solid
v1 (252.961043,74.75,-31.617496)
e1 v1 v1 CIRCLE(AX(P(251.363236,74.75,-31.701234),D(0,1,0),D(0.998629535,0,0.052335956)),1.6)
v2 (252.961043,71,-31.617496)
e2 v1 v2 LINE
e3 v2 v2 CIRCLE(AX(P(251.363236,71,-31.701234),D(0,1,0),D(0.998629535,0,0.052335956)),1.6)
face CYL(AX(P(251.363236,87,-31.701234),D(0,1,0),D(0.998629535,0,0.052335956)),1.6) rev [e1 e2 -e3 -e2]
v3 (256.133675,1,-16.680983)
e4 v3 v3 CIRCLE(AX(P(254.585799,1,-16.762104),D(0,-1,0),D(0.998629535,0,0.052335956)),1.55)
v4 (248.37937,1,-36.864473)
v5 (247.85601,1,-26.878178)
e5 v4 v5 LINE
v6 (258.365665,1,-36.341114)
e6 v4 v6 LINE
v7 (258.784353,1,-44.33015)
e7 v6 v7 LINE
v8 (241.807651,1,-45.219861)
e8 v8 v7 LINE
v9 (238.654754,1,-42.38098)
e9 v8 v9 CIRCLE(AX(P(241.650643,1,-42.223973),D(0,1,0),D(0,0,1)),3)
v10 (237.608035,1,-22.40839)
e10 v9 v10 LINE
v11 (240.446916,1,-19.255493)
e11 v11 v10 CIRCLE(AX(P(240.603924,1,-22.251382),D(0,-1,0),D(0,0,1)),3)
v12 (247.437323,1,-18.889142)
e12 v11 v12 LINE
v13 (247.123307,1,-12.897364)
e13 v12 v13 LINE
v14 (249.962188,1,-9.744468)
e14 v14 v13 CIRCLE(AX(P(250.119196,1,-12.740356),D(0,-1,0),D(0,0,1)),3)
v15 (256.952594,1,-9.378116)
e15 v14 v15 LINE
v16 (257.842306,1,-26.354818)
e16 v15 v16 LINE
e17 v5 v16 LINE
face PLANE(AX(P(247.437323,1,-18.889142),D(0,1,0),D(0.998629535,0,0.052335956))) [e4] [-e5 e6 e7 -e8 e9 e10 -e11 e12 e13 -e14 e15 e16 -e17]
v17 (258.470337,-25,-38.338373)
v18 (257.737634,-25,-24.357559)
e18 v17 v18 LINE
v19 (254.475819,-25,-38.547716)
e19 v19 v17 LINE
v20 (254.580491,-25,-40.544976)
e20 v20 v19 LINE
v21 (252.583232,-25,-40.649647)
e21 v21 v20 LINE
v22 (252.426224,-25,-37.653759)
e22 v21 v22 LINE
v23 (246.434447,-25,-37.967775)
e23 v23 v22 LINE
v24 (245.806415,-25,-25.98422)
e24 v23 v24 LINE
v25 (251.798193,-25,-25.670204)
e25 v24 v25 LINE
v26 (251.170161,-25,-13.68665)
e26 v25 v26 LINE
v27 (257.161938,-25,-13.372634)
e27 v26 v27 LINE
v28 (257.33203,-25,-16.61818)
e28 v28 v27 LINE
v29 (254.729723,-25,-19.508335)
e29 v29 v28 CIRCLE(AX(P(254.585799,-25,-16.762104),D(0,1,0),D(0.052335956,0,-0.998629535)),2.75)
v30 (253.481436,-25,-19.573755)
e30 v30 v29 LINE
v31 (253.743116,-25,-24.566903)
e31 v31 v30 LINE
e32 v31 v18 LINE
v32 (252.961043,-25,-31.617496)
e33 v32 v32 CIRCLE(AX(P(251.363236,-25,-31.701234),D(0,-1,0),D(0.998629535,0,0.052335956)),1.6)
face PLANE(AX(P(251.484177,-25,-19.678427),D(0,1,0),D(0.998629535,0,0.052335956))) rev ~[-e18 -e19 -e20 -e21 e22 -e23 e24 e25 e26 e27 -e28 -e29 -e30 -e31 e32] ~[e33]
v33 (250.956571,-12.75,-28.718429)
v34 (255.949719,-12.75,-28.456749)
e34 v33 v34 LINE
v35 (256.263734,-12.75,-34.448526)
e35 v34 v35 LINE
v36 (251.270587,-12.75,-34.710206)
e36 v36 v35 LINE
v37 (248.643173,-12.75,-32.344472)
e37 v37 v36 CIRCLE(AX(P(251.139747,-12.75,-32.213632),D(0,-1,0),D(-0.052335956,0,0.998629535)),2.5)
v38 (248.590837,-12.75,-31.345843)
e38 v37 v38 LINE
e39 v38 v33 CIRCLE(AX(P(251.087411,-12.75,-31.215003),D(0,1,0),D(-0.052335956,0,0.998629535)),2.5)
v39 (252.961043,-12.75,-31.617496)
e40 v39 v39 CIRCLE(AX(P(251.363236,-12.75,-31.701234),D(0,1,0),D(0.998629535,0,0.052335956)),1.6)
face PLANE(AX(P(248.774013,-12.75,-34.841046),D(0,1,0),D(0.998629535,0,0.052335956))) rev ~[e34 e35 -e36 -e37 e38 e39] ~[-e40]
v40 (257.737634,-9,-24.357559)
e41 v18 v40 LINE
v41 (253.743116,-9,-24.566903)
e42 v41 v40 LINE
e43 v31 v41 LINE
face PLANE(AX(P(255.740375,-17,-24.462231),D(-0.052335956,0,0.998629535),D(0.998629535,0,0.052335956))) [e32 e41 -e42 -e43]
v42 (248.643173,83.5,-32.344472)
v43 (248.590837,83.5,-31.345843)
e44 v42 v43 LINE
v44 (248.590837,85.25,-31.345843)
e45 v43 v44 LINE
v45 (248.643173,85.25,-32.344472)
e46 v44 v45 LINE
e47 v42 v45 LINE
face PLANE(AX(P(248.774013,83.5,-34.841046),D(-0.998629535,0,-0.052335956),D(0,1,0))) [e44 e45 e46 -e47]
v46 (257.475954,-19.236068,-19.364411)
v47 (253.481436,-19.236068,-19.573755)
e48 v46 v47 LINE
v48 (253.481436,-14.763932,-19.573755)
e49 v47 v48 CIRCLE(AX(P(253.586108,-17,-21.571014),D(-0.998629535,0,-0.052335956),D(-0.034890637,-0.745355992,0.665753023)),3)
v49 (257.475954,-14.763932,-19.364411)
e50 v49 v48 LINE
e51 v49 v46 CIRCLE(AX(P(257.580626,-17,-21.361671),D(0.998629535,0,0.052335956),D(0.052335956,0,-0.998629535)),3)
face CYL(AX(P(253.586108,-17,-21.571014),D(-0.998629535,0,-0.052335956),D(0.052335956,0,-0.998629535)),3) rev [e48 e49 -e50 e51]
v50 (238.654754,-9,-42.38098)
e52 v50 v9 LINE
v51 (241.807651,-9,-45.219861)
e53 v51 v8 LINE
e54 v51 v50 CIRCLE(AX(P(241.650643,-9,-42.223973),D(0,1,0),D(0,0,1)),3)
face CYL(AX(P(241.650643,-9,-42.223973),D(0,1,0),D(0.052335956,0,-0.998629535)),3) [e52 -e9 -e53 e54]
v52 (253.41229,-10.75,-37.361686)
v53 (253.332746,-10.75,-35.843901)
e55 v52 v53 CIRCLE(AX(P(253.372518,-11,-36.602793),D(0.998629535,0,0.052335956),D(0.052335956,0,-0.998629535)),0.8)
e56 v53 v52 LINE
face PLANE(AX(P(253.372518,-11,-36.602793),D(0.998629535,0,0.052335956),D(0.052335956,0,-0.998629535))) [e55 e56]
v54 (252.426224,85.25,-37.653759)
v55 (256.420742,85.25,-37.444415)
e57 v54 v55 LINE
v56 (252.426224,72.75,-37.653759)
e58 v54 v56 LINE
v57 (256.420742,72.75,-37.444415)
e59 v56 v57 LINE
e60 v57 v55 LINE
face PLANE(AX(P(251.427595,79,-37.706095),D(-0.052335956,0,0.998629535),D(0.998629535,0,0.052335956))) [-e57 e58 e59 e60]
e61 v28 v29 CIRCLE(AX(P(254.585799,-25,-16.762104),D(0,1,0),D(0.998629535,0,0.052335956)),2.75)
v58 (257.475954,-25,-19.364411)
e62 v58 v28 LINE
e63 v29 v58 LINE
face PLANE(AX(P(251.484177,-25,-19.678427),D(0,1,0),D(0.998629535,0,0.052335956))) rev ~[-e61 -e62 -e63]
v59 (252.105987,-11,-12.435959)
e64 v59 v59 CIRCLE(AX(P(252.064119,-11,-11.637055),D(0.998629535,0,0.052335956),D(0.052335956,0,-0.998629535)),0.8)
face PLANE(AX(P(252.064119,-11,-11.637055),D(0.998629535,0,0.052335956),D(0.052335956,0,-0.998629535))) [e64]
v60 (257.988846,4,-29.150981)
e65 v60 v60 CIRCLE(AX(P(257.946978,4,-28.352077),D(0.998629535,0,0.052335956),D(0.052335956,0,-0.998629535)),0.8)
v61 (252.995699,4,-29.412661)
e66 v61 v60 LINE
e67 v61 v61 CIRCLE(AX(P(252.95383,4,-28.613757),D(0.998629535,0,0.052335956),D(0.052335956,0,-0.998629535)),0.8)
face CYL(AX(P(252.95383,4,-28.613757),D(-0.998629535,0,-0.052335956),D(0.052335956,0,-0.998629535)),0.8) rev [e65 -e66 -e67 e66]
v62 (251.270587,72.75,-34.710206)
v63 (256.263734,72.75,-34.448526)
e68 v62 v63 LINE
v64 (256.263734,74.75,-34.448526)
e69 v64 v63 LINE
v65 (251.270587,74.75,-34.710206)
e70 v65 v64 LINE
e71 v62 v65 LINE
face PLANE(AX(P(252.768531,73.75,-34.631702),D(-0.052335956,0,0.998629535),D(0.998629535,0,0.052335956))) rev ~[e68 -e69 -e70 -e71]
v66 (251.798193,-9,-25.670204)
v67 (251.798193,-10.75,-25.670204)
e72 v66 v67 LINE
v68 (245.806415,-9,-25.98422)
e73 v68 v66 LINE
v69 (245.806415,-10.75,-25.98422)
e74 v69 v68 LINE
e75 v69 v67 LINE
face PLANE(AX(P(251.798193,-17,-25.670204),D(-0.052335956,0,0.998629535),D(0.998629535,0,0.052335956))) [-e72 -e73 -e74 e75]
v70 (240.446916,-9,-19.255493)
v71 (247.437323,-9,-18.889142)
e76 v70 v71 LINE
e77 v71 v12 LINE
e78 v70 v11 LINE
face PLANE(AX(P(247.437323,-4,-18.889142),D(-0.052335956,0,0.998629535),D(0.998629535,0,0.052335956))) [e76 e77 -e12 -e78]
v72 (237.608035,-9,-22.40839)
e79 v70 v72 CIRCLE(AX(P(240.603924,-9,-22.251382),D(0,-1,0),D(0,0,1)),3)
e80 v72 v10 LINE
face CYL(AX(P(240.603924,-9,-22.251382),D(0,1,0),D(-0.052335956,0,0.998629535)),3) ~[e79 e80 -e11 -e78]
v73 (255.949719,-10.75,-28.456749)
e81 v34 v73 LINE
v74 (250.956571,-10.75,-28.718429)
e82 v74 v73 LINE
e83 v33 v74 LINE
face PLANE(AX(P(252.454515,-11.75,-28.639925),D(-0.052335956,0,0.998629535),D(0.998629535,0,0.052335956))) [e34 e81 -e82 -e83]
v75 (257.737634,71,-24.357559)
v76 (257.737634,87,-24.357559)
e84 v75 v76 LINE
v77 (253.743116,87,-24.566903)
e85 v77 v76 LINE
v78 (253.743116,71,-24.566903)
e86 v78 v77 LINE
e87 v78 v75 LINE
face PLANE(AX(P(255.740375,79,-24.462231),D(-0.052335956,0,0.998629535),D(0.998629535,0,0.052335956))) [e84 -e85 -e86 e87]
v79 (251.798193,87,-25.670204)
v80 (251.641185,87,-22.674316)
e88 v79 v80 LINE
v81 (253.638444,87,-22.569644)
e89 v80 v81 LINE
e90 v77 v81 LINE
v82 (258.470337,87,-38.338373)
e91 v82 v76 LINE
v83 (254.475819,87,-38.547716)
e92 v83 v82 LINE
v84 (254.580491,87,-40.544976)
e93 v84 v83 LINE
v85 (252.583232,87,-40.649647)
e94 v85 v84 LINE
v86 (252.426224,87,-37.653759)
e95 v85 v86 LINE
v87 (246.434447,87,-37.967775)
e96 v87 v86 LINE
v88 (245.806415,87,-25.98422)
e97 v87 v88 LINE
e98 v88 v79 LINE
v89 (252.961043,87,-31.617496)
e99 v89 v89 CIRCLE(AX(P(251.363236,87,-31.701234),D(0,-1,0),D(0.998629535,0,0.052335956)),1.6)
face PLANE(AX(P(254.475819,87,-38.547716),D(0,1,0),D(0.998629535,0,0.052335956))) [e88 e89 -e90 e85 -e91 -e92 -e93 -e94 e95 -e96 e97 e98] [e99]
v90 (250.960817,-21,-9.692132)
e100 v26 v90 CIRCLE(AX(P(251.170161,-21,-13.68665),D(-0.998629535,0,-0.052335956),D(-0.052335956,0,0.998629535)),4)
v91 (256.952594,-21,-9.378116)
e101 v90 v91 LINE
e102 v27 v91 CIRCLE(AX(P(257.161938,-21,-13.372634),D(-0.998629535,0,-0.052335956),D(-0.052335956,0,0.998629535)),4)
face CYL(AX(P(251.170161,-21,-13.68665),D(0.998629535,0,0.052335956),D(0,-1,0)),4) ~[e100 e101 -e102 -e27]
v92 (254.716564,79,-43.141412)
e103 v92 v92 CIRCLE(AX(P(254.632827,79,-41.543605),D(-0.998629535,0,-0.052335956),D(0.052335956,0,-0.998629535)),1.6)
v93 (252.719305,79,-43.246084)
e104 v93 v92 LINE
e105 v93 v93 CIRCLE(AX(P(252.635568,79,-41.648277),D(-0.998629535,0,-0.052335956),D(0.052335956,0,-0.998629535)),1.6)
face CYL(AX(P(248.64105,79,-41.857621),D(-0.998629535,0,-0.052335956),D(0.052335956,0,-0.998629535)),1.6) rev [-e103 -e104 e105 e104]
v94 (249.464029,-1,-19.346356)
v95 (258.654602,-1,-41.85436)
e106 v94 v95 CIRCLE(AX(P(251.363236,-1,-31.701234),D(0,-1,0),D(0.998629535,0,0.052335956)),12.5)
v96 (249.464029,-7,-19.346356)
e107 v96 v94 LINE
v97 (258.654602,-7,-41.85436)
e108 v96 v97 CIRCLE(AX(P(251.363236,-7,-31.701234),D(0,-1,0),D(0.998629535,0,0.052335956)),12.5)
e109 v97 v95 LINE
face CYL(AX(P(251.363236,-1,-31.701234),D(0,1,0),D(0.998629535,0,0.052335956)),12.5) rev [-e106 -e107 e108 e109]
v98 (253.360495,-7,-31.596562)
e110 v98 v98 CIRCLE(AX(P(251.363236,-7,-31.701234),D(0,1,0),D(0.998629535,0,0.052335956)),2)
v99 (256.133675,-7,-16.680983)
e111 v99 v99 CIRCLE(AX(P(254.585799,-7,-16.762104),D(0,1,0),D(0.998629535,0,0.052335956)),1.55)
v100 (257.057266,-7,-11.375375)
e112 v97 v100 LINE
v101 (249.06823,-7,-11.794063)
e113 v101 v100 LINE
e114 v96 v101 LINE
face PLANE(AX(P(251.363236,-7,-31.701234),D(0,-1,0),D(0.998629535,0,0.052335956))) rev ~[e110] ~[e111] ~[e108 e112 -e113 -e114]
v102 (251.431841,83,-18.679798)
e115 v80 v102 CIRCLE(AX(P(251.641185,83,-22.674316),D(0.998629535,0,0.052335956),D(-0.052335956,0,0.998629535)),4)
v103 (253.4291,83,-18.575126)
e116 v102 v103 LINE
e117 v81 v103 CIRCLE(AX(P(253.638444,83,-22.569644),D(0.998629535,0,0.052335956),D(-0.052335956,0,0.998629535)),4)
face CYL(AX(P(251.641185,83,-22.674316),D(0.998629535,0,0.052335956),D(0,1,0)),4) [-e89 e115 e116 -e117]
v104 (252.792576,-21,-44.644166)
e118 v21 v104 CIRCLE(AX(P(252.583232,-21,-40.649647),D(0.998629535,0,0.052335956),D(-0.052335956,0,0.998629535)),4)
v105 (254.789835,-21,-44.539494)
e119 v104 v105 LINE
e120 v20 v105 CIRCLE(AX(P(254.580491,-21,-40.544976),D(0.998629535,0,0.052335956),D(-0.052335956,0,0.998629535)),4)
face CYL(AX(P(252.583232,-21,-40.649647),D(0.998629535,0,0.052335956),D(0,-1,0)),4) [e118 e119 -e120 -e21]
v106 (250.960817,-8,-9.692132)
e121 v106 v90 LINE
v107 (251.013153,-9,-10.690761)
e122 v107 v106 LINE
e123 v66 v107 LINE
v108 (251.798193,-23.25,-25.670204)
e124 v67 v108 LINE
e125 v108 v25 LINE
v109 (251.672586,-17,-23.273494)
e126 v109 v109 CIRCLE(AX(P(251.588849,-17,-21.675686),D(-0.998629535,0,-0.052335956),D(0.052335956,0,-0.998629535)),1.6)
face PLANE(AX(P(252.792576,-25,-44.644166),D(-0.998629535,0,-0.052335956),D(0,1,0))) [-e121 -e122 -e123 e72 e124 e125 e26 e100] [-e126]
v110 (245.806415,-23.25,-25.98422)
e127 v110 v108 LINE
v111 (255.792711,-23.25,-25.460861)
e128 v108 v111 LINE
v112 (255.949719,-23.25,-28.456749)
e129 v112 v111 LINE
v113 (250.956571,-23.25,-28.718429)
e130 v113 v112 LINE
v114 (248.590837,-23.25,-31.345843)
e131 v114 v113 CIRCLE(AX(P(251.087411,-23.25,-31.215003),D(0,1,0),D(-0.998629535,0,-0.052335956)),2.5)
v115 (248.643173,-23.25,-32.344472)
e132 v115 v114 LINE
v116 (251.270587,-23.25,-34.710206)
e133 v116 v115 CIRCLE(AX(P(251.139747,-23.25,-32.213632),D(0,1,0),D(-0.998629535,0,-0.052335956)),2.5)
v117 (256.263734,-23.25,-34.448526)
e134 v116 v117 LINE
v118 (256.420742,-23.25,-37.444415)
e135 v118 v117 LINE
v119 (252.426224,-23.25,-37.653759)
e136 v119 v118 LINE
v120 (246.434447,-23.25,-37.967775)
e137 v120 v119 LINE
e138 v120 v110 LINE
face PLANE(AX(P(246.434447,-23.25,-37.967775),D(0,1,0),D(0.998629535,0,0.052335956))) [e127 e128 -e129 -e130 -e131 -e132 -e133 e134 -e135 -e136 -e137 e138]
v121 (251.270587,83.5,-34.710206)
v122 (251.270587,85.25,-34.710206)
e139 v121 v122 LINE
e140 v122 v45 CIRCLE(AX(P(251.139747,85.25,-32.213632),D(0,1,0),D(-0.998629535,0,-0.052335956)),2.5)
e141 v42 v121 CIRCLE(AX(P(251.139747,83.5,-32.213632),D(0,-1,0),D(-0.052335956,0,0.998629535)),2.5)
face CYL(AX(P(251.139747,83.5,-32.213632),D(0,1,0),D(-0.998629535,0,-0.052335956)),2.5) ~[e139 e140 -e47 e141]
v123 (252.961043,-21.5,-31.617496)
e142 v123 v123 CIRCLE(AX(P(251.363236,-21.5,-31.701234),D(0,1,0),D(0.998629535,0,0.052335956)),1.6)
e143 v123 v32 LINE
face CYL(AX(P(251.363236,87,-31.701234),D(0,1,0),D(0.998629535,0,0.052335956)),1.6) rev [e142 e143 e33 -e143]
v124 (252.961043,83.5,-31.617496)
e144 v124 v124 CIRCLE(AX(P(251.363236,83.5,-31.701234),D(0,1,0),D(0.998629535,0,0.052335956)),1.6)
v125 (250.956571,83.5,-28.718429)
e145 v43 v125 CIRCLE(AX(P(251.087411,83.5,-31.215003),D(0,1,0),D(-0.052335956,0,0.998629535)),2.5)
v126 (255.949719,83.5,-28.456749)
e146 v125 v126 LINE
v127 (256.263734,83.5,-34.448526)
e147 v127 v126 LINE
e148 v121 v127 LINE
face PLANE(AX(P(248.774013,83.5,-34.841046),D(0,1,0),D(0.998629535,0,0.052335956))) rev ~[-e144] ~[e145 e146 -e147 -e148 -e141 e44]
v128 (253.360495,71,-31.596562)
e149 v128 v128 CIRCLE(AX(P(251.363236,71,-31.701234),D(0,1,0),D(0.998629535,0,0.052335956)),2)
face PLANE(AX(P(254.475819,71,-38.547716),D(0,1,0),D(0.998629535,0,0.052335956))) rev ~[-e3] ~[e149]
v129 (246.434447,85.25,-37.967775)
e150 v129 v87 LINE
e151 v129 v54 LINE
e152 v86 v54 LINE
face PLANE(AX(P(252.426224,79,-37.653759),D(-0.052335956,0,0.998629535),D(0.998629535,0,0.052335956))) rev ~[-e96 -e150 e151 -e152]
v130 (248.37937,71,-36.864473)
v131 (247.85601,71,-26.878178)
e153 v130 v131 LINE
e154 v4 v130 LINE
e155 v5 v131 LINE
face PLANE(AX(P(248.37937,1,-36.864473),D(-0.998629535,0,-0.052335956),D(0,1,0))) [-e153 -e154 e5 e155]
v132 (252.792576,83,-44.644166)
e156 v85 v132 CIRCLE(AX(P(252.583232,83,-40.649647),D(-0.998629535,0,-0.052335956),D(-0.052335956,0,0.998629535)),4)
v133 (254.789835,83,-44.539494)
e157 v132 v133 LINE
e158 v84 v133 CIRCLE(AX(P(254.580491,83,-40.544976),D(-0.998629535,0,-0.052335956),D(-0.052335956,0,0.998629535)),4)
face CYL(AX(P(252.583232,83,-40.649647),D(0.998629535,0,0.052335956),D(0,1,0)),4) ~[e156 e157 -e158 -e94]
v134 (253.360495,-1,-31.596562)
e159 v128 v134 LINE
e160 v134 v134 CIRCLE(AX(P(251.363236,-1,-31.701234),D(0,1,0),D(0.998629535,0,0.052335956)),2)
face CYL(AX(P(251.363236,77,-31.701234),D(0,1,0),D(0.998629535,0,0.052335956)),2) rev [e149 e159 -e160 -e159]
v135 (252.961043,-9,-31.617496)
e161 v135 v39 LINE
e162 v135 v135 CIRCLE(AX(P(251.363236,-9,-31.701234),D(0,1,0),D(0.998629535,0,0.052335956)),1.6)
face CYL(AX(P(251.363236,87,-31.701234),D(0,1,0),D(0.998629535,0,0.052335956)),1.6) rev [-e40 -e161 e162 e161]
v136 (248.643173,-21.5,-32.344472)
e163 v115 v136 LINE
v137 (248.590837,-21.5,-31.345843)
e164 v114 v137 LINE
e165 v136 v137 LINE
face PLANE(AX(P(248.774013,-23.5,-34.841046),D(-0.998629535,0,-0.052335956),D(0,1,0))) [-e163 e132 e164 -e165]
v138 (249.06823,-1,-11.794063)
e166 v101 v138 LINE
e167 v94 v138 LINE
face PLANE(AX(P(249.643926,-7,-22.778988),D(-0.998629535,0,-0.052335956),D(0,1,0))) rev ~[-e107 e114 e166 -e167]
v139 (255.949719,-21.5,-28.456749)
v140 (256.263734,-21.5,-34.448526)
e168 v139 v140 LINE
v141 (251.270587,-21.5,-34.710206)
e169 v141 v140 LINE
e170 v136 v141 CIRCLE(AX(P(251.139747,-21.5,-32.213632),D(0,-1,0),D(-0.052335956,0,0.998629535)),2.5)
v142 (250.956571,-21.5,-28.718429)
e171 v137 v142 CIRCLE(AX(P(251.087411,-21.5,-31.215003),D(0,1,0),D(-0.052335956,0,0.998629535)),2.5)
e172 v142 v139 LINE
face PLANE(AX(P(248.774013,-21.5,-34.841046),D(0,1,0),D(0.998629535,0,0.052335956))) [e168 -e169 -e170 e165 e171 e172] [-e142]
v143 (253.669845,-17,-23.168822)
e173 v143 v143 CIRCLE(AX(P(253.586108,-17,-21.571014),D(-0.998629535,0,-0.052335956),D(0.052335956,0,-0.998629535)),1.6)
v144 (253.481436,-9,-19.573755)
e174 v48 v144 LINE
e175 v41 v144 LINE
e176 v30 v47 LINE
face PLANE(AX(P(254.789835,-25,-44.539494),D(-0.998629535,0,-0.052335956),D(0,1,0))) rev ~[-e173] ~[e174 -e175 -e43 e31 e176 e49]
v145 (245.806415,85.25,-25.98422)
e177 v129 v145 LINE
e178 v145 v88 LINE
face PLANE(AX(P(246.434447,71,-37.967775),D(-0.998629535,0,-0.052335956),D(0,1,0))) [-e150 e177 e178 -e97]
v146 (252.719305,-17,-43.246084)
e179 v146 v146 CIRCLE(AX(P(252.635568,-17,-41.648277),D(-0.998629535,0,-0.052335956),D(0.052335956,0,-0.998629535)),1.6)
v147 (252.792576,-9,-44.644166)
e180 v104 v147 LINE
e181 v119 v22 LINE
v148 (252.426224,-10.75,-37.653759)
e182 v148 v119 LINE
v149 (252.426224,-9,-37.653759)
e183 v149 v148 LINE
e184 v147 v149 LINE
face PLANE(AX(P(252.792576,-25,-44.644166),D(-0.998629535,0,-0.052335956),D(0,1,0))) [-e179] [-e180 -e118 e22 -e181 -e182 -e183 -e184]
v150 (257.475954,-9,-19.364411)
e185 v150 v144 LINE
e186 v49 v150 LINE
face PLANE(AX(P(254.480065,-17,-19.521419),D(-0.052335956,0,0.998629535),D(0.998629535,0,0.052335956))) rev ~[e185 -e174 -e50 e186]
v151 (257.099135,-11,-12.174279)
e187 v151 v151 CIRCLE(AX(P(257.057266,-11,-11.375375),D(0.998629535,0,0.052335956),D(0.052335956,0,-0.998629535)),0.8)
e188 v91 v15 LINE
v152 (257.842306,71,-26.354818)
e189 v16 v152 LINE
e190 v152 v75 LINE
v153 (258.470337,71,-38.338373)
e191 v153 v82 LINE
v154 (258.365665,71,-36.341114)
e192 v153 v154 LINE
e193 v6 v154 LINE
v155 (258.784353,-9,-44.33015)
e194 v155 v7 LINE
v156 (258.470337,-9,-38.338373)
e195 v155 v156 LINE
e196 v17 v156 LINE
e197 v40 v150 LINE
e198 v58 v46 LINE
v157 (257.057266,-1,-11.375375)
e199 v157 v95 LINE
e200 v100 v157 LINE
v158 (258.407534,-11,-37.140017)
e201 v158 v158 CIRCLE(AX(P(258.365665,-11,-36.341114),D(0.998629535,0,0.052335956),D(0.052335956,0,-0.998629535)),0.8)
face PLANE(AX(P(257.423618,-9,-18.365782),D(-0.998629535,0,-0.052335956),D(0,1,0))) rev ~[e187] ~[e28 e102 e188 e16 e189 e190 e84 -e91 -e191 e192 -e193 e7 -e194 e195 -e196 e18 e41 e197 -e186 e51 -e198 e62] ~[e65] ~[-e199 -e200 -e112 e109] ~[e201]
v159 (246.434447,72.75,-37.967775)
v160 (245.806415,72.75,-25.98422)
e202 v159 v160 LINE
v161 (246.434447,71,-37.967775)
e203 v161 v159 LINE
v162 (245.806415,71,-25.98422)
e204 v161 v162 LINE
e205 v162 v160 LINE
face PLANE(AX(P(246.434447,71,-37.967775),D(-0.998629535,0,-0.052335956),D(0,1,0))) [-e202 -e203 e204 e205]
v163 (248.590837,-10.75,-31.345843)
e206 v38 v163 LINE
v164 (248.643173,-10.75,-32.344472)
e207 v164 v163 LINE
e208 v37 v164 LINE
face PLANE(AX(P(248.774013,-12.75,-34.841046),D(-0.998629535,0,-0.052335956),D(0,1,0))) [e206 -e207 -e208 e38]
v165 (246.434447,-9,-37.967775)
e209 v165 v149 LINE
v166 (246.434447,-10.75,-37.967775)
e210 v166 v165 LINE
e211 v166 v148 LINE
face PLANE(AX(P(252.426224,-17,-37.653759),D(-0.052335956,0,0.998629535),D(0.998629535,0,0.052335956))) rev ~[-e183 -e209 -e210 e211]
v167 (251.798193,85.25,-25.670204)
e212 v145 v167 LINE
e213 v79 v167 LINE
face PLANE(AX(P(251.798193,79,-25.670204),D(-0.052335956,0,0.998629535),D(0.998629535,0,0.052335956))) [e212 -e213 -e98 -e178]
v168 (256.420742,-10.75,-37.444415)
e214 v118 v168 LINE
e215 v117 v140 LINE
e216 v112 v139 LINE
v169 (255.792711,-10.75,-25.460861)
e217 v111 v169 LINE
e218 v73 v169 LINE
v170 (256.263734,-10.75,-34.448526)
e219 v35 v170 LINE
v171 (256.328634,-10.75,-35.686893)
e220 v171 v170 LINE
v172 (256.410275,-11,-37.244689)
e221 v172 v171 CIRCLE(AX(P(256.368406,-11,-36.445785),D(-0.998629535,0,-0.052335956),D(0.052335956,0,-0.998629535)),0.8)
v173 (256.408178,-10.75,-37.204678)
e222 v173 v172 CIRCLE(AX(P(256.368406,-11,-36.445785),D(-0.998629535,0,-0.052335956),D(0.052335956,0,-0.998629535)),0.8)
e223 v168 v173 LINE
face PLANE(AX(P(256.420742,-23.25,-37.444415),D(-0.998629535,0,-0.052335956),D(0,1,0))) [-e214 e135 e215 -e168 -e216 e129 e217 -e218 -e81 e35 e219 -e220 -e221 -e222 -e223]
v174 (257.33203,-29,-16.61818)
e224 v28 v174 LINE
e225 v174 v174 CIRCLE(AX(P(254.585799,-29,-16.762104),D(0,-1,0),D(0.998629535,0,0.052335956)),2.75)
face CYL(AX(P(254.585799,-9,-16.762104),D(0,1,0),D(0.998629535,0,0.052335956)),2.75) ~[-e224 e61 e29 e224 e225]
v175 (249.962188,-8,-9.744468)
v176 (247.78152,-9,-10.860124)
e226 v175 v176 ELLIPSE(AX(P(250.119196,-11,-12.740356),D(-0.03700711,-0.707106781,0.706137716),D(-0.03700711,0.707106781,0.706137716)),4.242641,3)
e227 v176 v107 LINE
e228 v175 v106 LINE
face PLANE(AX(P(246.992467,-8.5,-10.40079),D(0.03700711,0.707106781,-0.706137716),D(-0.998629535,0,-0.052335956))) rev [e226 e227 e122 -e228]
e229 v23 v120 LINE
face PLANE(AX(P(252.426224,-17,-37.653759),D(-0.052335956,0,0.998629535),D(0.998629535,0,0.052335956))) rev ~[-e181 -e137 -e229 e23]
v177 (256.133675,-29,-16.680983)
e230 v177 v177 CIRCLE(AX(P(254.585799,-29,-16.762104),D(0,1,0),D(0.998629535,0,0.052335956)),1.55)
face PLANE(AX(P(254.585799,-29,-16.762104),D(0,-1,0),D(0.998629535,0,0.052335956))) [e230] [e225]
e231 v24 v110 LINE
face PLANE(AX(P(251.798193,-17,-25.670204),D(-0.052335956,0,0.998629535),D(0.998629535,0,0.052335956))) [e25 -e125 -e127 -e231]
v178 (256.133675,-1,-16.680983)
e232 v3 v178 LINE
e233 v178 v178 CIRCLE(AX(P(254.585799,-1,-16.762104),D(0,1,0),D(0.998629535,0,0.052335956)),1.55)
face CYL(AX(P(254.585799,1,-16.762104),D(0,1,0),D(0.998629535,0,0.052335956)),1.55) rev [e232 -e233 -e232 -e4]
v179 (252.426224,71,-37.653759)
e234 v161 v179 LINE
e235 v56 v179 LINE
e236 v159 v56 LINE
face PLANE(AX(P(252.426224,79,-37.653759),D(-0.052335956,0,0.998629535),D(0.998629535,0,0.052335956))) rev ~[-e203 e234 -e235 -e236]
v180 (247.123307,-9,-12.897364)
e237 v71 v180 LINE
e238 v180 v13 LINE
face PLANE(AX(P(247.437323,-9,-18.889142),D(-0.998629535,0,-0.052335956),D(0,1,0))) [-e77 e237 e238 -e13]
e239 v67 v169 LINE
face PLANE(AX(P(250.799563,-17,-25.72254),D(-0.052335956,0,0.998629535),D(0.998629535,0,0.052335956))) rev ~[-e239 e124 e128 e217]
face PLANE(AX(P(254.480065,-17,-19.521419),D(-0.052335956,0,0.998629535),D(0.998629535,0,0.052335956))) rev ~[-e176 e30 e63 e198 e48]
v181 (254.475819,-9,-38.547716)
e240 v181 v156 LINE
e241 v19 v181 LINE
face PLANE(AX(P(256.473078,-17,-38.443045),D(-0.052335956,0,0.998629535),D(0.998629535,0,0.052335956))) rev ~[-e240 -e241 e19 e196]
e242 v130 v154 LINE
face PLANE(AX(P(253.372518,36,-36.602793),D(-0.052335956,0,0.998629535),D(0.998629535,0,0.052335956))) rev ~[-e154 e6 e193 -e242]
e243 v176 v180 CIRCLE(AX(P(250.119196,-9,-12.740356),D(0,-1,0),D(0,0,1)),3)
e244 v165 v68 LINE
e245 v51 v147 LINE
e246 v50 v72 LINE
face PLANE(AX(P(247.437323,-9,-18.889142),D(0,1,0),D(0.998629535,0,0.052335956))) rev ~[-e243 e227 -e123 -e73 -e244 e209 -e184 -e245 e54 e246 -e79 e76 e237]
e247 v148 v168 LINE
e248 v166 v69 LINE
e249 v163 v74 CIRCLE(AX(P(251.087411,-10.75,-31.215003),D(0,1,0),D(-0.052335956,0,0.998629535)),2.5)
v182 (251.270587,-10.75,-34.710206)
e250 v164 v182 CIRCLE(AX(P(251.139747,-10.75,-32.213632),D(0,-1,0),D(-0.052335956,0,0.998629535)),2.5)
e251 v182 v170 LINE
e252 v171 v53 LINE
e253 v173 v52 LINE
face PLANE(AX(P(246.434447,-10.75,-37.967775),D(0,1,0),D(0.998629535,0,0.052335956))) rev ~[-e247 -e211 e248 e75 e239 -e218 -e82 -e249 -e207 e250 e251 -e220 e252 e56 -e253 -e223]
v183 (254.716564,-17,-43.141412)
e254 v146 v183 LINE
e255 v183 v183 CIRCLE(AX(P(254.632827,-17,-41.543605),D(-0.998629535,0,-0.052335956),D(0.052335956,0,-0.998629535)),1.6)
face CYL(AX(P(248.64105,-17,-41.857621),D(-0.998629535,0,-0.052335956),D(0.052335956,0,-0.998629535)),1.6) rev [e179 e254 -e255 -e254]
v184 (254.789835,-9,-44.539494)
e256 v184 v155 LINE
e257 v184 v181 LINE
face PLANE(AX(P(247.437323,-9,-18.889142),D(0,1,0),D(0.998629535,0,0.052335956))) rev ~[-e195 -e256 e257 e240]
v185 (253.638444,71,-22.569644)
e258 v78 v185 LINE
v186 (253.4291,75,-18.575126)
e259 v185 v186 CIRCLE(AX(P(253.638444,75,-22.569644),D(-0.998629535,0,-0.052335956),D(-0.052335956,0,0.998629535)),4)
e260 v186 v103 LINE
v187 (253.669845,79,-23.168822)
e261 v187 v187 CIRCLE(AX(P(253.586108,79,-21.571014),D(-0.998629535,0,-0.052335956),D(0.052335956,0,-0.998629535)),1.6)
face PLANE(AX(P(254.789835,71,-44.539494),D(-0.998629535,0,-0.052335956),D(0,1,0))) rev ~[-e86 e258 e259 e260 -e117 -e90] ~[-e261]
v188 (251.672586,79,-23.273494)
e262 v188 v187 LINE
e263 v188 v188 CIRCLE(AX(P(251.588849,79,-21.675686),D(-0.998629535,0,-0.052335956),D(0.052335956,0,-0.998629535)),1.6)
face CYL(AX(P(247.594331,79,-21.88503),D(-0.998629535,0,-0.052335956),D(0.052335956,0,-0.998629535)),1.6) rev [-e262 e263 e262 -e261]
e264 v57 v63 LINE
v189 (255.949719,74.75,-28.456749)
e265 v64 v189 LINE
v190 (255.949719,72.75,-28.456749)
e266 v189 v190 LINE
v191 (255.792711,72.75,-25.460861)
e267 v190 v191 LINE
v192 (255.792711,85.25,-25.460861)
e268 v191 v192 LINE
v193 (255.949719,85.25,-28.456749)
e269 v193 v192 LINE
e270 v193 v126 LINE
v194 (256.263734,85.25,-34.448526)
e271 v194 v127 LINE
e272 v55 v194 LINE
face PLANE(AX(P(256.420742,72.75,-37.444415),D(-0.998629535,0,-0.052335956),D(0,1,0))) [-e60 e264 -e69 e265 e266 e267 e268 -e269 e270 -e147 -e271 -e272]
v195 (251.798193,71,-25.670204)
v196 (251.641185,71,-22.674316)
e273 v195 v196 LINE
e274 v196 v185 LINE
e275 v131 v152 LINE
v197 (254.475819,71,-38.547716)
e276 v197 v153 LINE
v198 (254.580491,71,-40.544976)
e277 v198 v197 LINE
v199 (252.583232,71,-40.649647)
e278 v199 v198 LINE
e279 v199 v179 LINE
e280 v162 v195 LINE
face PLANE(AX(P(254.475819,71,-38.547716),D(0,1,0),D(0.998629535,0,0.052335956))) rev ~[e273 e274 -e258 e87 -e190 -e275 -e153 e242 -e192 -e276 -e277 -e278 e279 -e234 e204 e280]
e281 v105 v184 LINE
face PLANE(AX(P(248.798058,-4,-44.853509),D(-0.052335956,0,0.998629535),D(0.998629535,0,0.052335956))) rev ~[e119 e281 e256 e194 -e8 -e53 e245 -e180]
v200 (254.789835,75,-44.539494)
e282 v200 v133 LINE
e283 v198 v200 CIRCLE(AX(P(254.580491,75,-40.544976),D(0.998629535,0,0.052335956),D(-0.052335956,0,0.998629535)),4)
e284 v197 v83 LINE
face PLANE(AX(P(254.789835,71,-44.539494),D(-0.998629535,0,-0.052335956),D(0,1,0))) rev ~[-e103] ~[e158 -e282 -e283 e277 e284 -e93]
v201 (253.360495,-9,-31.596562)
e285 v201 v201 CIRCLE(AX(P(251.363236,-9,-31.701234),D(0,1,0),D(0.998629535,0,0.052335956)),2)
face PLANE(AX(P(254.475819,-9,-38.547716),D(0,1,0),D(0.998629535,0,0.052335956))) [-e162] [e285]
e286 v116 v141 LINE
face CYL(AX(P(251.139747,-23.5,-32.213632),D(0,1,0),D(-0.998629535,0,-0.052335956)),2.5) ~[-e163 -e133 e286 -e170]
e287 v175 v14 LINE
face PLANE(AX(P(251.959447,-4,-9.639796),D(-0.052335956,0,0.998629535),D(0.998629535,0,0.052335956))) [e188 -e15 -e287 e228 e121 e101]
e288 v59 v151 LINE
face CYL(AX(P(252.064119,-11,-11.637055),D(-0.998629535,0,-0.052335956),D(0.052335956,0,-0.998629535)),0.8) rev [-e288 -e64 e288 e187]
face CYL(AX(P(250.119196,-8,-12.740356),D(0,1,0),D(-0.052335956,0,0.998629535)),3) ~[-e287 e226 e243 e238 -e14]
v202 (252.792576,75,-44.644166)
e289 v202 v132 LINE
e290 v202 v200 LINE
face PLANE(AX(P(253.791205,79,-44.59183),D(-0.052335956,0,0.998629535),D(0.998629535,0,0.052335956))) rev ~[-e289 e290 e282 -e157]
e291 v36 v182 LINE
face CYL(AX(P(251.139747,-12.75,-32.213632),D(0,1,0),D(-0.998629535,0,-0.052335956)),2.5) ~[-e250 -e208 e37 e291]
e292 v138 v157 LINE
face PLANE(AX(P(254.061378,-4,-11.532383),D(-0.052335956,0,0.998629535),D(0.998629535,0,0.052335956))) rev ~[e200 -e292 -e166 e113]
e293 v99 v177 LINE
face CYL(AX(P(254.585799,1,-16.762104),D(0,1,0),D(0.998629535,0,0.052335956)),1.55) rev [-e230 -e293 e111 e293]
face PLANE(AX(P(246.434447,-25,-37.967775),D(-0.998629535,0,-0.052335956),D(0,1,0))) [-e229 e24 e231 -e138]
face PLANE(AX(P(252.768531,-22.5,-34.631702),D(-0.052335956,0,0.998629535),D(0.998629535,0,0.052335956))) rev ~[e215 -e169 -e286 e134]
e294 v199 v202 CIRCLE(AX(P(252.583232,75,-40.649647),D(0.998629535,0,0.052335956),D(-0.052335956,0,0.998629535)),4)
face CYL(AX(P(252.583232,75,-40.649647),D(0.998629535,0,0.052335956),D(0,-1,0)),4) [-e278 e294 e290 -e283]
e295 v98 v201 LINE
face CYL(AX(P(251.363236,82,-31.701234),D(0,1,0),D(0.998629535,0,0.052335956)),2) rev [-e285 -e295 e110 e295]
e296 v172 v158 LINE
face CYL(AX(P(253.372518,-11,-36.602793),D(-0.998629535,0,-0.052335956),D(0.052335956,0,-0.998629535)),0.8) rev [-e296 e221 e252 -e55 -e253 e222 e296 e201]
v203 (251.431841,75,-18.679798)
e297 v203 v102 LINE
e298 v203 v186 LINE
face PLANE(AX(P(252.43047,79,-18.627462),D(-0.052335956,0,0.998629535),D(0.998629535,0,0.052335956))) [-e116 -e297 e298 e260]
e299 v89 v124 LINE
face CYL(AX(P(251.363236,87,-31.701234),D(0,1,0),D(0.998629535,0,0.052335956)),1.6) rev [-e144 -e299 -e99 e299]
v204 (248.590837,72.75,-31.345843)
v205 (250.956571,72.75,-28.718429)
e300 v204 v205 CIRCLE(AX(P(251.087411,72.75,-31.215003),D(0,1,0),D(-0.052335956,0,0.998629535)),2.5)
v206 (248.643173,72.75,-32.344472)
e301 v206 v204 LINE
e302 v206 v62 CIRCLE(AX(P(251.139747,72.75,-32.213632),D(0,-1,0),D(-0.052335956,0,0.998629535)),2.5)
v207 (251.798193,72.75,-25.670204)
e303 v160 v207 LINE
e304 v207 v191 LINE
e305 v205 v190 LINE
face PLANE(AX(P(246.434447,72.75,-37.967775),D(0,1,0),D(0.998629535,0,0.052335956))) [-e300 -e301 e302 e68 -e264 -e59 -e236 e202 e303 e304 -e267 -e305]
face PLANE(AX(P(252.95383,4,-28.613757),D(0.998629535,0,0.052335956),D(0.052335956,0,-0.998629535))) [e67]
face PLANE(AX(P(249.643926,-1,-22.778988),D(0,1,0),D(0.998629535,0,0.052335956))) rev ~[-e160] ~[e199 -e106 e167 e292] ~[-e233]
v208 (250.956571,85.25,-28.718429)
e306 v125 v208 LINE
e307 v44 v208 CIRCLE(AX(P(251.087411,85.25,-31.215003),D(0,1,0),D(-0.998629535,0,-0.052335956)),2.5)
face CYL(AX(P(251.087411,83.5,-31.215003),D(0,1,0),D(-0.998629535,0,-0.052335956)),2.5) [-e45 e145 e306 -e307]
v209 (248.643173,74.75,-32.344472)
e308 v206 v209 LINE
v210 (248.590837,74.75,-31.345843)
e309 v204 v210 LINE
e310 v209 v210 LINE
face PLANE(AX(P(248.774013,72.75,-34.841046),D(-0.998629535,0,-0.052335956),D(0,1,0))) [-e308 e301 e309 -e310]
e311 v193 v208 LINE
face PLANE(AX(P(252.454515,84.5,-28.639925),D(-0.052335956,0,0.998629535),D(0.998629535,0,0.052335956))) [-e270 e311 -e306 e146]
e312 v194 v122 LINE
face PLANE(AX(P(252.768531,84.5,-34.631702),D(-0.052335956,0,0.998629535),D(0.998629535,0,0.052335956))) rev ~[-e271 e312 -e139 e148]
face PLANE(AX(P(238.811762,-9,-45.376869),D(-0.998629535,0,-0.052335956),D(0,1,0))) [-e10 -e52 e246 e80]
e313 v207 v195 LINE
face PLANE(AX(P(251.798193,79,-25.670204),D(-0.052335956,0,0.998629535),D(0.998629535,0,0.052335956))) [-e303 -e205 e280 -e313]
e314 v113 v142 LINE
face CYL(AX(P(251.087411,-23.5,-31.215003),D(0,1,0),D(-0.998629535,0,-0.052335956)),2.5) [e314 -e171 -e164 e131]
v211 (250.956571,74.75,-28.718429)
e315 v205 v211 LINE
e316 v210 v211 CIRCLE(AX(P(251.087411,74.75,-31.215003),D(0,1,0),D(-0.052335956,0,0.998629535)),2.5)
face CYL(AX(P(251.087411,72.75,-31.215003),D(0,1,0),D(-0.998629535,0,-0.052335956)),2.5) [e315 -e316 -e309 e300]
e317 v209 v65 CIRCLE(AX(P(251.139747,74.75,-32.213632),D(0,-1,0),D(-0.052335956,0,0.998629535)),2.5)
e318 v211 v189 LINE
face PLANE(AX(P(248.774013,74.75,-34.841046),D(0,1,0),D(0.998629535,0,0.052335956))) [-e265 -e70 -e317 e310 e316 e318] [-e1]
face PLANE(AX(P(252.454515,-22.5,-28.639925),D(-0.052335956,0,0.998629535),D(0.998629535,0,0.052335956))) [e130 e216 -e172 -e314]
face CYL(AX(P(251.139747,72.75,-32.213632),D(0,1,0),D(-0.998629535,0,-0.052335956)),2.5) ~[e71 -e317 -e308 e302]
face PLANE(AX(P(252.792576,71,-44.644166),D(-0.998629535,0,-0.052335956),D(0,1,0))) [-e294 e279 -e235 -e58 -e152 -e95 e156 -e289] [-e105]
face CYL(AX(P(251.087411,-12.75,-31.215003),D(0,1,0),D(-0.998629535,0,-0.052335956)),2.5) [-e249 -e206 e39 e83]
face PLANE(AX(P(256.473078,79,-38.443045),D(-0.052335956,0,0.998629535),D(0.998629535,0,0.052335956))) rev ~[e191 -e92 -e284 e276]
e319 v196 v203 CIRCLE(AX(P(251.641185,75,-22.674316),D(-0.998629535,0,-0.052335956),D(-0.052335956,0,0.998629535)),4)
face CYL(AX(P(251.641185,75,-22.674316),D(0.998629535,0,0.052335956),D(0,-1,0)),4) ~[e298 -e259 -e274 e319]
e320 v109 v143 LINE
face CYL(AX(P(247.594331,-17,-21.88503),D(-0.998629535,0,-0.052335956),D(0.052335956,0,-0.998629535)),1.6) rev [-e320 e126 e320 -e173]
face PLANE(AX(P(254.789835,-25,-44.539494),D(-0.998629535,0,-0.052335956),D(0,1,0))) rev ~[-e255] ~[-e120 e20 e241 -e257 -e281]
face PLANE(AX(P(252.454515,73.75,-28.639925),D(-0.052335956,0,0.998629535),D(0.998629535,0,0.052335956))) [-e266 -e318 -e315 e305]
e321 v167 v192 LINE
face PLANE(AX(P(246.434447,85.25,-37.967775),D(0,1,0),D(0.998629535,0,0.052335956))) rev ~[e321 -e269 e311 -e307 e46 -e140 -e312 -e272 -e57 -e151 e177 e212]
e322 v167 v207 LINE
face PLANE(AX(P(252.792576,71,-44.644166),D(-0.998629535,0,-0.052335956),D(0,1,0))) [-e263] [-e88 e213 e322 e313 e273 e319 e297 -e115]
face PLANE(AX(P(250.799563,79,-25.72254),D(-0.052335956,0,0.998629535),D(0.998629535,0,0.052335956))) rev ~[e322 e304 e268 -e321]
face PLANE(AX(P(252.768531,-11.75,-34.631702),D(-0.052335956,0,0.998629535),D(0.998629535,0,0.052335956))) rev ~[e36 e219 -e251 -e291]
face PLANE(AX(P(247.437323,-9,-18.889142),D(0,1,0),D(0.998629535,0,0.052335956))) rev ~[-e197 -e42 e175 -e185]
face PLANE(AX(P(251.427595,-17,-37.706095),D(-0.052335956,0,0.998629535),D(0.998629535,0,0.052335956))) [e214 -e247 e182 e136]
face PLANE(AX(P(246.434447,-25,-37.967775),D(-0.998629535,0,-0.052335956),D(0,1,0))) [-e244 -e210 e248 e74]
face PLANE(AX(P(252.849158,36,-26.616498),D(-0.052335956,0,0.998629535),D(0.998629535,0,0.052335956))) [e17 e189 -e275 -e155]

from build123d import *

# Parameters (mm, degrees)
CYLINDER369_R          = 0.8
CYLINDER369_DEPTH      = 5
CYLINDER370_R          = 0.8
CYLINDER370_DEPTH      = 5
CYLINDER368_R          = 0.8
CYLINDER368_DEPTH      = 5
CYLINDER362_R          = 1.6
CYLINDER362_DEPTH      = 10
CYLINDER361_R          = 1.6
CYLINDER361_DEPTH      = 10
CYLINDER360_R          = 1.6
CYLINDER360_DEPTH      = 10
CYLINDER359_R          = 1.6
CYLINDER359_DEPTH      = 10
CYLINDER371_R          = 2
CYLINDER371_DEPTH      = 102
CYLINDER363_R          = 2
CYLINDER363_DEPTH      = 102
BOX260_W               = 10
BOX260_H               = 70
BOX260_DEPTH           = 10
CYLINDER367_R          = 1.55
CYLINDER367_DEPTH      = 47
CYLINDER366_R          = 3
CYLINDER366_DEPTH      = 4
BOX262_W               = 6
BOX262_H               = 16
BOX262_DEPTH           = 10
BOX265_W               = 10
BOX265_H               = 6
BOX265_DEPTH           = 11
BOX264_W               = 10
BOX264_H               = 10
BOX264_DEPTH           = 9
CYLINDER365_R          = 12.5
CYLINDER365_DEPTH      = 6
BOX263_W               = 20
BOX263_H               = 10
BOX263_DEPTH           = 26
CYLINDER364_R          = 2.75
CYLINDER364_DEPTH      = 20
CYLINDER358_R          = 1.6
CYLINDER358_DEPTH      = 112
BOX259_W               = 8
BOX259_H               = 2
BOX259_DEPTH           = 6
BOX258_W               = 8
BOX258_H               = 2
BOX258_DEPTH           = 6
FILLET100_R            = 2.5
BOX255_W               = 10
BOX255_H               = 12.5
BOX255_DEPTH           = 12
BOX253_W               = 2
BOX253_H               = 16
BOX253_DEPTH           = 26
BOX254_W               = 4
BOX254_H               = 16
BOX254_DEPTH           = 14
BOX252_W               = 12
BOX252_H               = 16
BOX252_DEPTH           = 12
BOX257_W               = 8
BOX257_H               = 2
BOX257_DEPTH           = 6
BOX256_W               = 8
BOX256_H               = 2
BOX256_DEPTH           = 6
FILLET099_R            = 2.5
BOX251_W               = 10
BOX251_H               = 12.5
BOX251_DEPTH           = 12
BOX249_W               = 2
BOX249_H               = 16
BOX249_DEPTH           = 26
BOX250_W               = 4
BOX250_H               = 16
BOX250_DEPTH           = 14
BOX248_W               = 12
BOX248_H               = 16
BOX248_DEPTH           = 12
CUT273_PLACEMENT_ANGLE = 3
CHAMFER025_SIZE        = 1
FILLET101_R            = 4
FILLET102_R            = 3


with BuildPart() as cylinder545:
    # Cylinder369 → Cylinder369 (new body)
    with BuildSketch(Plane(origin=(331, 23, -46), x_dir=(0, 0, -1), z_dir=(1, 0, 0))):
        Circle(CYLINDER369_R)
    extrude(amount=CYLINDER369_DEPTH)


with BuildPart() as cylinder546:
    # Cylinder370 → Cylinder370 (new body)
    with BuildSketch(Plane(origin=(331, 8, -29), x_dir=(0, 0, -1), z_dir=(1, 0, 0))):
        Circle(CYLINDER370_R)
    extrude(amount=CYLINDER370_DEPTH)


with BuildPart() as fusion315:
    # Cylinder368 → Cylinder368 (new body)
    with BuildSketch(Plane(origin=(331, 8, -54), x_dir=(0, 0, -1), z_dir=(1, 0, 0))):
        Circle(CYLINDER368_R)
    extrude(amount=CYLINDER368_DEPTH)

    # Fusion315: union Cylinder545, Cylinder546
    add(cylinder545.part)
    add(cylinder546.part)


with BuildPart() as fusion315_1:
    # Fusion315 placement: moved
    add(fusion315.part.moved(Location((0, -10, 0))))


with BuildPart() as cylinder538:
    # Cylinder362 → Cylinder362 (new body)
    with BuildSketch(Plane(origin=(323, 0, -39), x_dir=(0, 0, -1), z_dir=(1, 0, 0))):
        Circle(CYLINDER362_R)
    extrude(amount=CYLINDER362_DEPTH)


with BuildPart() as fusion312:
    # Cylinder361 → Cylinder361 (new body)
    with BuildSketch(Plane(origin=(323, 0, -59), x_dir=(0, 0, -1), z_dir=(1, 0, 0))):
        Circle(CYLINDER361_R)
    extrude(amount=CYLINDER361_DEPTH)

    # Fusion312: union Cylinder538
    add(cylinder538.part)


with BuildPart() as fusion312_1:
    # Fusion312 placement: moved
    add(fusion312.part.moved(Location((3, 88, 0))))


with BuildPart() as cylinder536:
    # Cylinder360 → Cylinder360 (new body)
    with BuildSketch(Plane(origin=(323, 0, -39), x_dir=(0, 0, -1), z_dir=(1, 0, 0))):
        Circle(CYLINDER360_R)
    extrude(amount=CYLINDER360_DEPTH)


with BuildPart() as fusion316:
    # Cylinder359 → Cylinder359 (new body)
    with BuildSketch(Plane(origin=(323, 0, -59), x_dir=(0, 0, -1), z_dir=(1, 0, 0))):
        Circle(CYLINDER359_R)
    extrude(amount=CYLINDER359_DEPTH)

    # Fusion311: union Cylinder536
    add(cylinder536.part)


with BuildPart() as fusion316_1:
    # Fusion311 placement: moved
    add(fusion316.part.moved(Location((3, -8, 0))))

    # Fusion316: union Fusion312
    add(fusion312_1.part)


with BuildPart() as cylinder547:
    # Cylinder371 → Cylinder371 (new body)
    with BuildSketch(Plane(origin=(329.25, 91, -49), x_dir=(1, 0, 0), z_dir=(0, -1, 0))):
        Circle(CYLINDER371_R)
    extrude(amount=CYLINDER371_DEPTH)


with BuildPart() as cylinder539:
    # Cylinder363 → Cylinder363 (new body)
    with BuildSketch(Plane(origin=(329.25, 86, -49), x_dir=(1, 0, 0), z_dir=(0, -1, 0))):
        Circle(CYLINDER363_R)
    extrude(amount=CYLINDER363_DEPTH)


with BuildPart() as cut265:
    # Box260 → Box260 (new body)
    with BuildSketch(Plane(origin=(326, 10, -54), x_dir=(1, 0, 0), z_dir=(0, 0, 1))):
        with Locations((5, 35)):
            Rectangle(BOX260_W, BOX260_H)
    extrude(amount=BOX260_DEPTH)

    # Cut265: cut Cylinder539
    add(cylinder539.part, mode=Mode.SUBTRACT)


with BuildPart() as cylinder543:
    # Cylinder367 → Cylinder367 (new body)
    with BuildSketch(Plane(origin=(333.25, 20, -34.25), x_dir=(1, 0, 0), z_dir=(0, -1, 0))):
        Circle(CYLINDER367_R)
    extrude(amount=CYLINDER367_DEPTH)


with BuildPart() as cylinder542:
    # Cylinder366 → Cylinder366 (new body)
    with BuildSketch(Plane(origin=(332, 2, -39), x_dir=(0, 0, -1), z_dir=(1, 0, 0))):
        Circle(CYLINDER366_R)
    extrude(amount=CYLINDER366_DEPTH)


with BuildPart() as cube342:
    # Box262 → Box262 (new body)
    with BuildSketch(Plane(origin=(330, -6, -37), x_dir=(1, 0, 0), z_dir=(0, 0, 1))):
        with Locations((3, 8)):
            Rectangle(BOX262_W, BOX262_H)
    extrude(amount=BOX262_DEPTH)


with BuildPart() as cube345:
    # Box265 → Box265 (new body)
    with BuildSketch(Plane(origin=(328, 12, -40), x_dir=(1, 0, 0), z_dir=(0, 0, 1))):
        with Locations((5, 3)):
            Rectangle(BOX265_W, BOX265_H)
    extrude(amount=BOX265_DEPTH)


with BuildPart() as cube344:
    # Box264 → Box264 (new body)
    with BuildSketch(Plane(origin=(326, 10, -36), x_dir=(1, 0, 0), z_dir=(0, 0, 1))):
        with Locations((5, 5)):
            Rectangle(BOX264_W, BOX264_H)
    extrude(amount=BOX264_DEPTH)


with BuildPart() as cylinder541:
    # Cylinder365 → Cylinder365 (new body)
    with BuildSketch(Plane(origin=(329.25, 18, -49), x_dir=(1, 0, 0), z_dir=(0, -1, 0))):
        Circle(CYLINDER365_R)
    extrude(amount=CYLINDER365_DEPTH)


with BuildPart() as cut268:
    # Box263 → Box263 (new body)
    with BuildSketch(Plane(origin=(316, 10, -62), x_dir=(1, 0, 0), z_dir=(0, 0, 1))):
        with Locations((10, 5)):
            Rectangle(BOX263_W, BOX263_H)
    extrude(amount=BOX263_DEPTH)

    # Cut269: cut Cylinder541
    add(cylinder541.part, mode=Mode.SUBTRACT)

    # Fusion314: union Cube344
    add(cube344.part)

    # Cut268: cut Cube345
    add(cube345.part, mode=Mode.SUBTRACT)


with BuildPart() as cut271:
    # Cylinder364 → Cylinder364 (new body)
    with BuildSketch(Plane(origin=(333.25, 10, -34.25), x_dir=(1, 0, 0), z_dir=(0, -1, 0))):
        Circle(CYLINDER364_R)
    extrude(amount=CYLINDER364_DEPTH)

    # Fusion313: union Cube342, Cut268
    add(cube342.part)
    add(cut268.part)

    # Cut267: cut Cylinder542
    add(cylinder542.part, mode=Mode.SUBTRACT)

    # Cut266: cut Cylinder543
    add(cylinder543.part, mode=Mode.SUBTRACT)


with BuildPart() as cut271_1:
    # Cut266 placement: moved
    add(cut271.part.moved(Location((0, -10, 0))))

    # Fusion318: union Cut265
    add(cut265.part)

    # Cut271: cut Cylinder547
    add(cylinder547.part, mode=Mode.SUBTRACT)


with BuildPart() as cylinder534:
    # Cylinder358 → Cylinder358 (new body)
    with BuildSketch(Plane(origin=(329.25, 96, -49), x_dir=(1, 0, 0), z_dir=(0, -1, 0))):
        Circle(CYLINDER358_R)
    extrude(amount=CYLINDER358_DEPTH)


with BuildPart() as cube339:
    # Box259 → Box259 (new body)
    with BuildSketch(Plane(origin=(328, -4.5, -52), x_dir=(1, 0, 0), z_dir=(0, 0, 1))):
        with Locations((4, 1)):
            Rectangle(BOX259_W, BOX259_H)
    extrude(amount=BOX259_DEPTH)


with BuildPart() as fillet100:
    # Box258 → Box258 (new body)
    with BuildSketch(Plane(origin=(328, 6.25, -52), x_dir=(1, 0, 0), z_dir=(0, 0, 1))):
        with Locations((4, 1)):
            Rectangle(BOX258_W, BOX258_H)
    extrude(amount=BOX258_DEPTH)

    # Fusion309: union Cube339
    add(cube339.part)

    # Fillet100
    fillet100_edges = [fillet100.edges().sort_by_distance(p)[0] for p in [
        (328, 7.25, -46),
        (328, 7.25, -52),
        (328, -3.5, -46),
        (328, -3.5, -52),
    ]]
    fillet(fillet100_edges, radius=FILLET100_R)


with BuildPart() as fillet100_1:
    # Fillet100 placement: moved
    add(fillet100.part.moved(Location((-1.5, 86.25, 0))))


with BuildPart() as cube335:
    # Box255 → Box255 (new body)
    with BuildSketch(Plane(origin=(324, -4.25, -55), x_dir=(1, 0, 0), z_dir=(0, 0, 1))):
        with Locations((5, 6.25)):
            Rectangle(BOX255_W, BOX255_H)
    extrude(amount=BOX255_DEPTH)


with BuildPart() as cube333:
    # Box253 → Box253 (new body)
    with BuildSketch(Plane(origin=(330, -6, -62), x_dir=(1, 0, 0), z_dir=(0, 0, 1))):
        with Locations((1, 8)):
            Rectangle(BOX253_W, BOX253_H)
    extrude(amount=BOX253_DEPTH)


with BuildPart() as cube334:
    # Box254 → Box254 (new body)
    with BuildSketch(Plane(origin=(332, -6, -56), x_dir=(1, 0, 0), z_dir=(0, 0, 1))):
        with Locations((2, 8)):
            Rectangle(BOX254_W, BOX254_H)
    extrude(amount=BOX254_DEPTH)


with BuildPart() as cut264:
    # Box252 → Box252 (new body)
    with BuildSketch(Plane(origin=(324, -6, -55), x_dir=(1, 0, 0), z_dir=(0, 0, 1))):
        with Locations((6, 8)):
            Rectangle(BOX252_W, BOX252_H)
    extrude(amount=BOX252_DEPTH)

    # Fusion307: union Cube333, Cube334
    add(cube333.part)
    add(cube334.part)

    # Cut264: cut Cube335
    add(cube335.part, mode=Mode.SUBTRACT)


with BuildPart() as cut264_1:
    # Cut264 placement: moved
    add(cut264.part.moved(Location((0, 86, 0))))


with BuildPart() as cube337:
    # Box257 → Box257 (new body)
    with BuildSketch(Plane(origin=(328, -4.5, -52), x_dir=(1, 0, 0), z_dir=(0, 0, 1))):
        with Locations((4, 1)):
            Rectangle(BOX257_W, BOX257_H)
    extrude(amount=BOX257_DEPTH)


with BuildPart() as fillet099:
    # Box256 → Box256 (new body)
    with BuildSketch(Plane(origin=(328, 6.25, -52), x_dir=(1, 0, 0), z_dir=(0, 0, 1))):
        with Locations((4, 1)):
            Rectangle(BOX256_W, BOX256_H)
    extrude(amount=BOX256_DEPTH)

    # Fusion308: union Cube337
    add(cube337.part)

    # Fillet099
    fillet099_edges = [fillet099.edges().sort_by_distance(p)[0] for p in [
        (328, 7.25, -46),
        (328, 7.25, -52),
        (328, -3.5, -46),
        (328, -3.5, -52),
    ]]
    fillet(fillet099_edges, radius=FILLET099_R)


with BuildPart() as fillet099_1:
    # Fillet099 placement: moved
    add(fillet099.part.moved(Location((-1.5, -10, 0))))


with BuildPart() as cube331:
    # Box251 → Box251 (new body)
    with BuildSketch(Plane(origin=(324, -4.25, -55), x_dir=(1, 0, 0), z_dir=(0, 0, 1))):
        with Locations((5, 6.25)):
            Rectangle(BOX251_W, BOX251_H)
    extrude(amount=BOX251_DEPTH)


with BuildPart() as cube329:
    # Box249 → Box249 (new body)
    with BuildSketch(Plane(origin=(330, -6, -62), x_dir=(1, 0, 0), z_dir=(0, 0, 1))):
        with Locations((1, 8)):
            Rectangle(BOX249_W, BOX249_H)
    extrude(amount=BOX249_DEPTH)


with BuildPart() as cube330:
    # Box250 → Box250 (new body)
    with BuildSketch(Plane(origin=(332, -6, -56), x_dir=(1, 0, 0), z_dir=(0, 0, 1))):
        with Locations((2, 8)):
            Rectangle(BOX250_W, BOX250_H)
    extrude(amount=BOX250_DEPTH)


with BuildPart() as support_reductor_box_wide:
    # Box248 → Box248 (new body)
    with BuildSketch(Plane(origin=(324, -6, -55), x_dir=(1, 0, 0), z_dir=(0, 0, 1))):
        with Locations((6, 8)):
            Rectangle(BOX248_W, BOX248_H)
    extrude(amount=BOX248_DEPTH)

    # Fusion306: union Cube329, Cube330
    add(cube329.part)
    add(cube330.part)

    # Cut263: cut Cube331
    add(cube331.part, mode=Mode.SUBTRACT)


with BuildPart() as support_reductor_box_wide_1:
    # Cut263 placement: moved
    add(support_reductor_box_wide.part.moved(Location((0, -10, 0))))

    # Fusion317: union Fillet100, Cut264, Fillet099
    add(fillet100_1.part)
    add(cut264_1.part)
    add(fillet099_1.part)

    # Cut270: cut Cylinder534
    add(cylinder534.part, mode=Mode.SUBTRACT)

    # Fusion319: union Cut271
    add(cut271_1.part)

    # Cut272: cut Fusion316
    add(fusion316_1.part, mode=Mode.SUBTRACT)

    # Cut273: cut Fusion315
    add(fusion315_1.part, mode=Mode.SUBTRACT)


with BuildPart() as support_reductor_box_wide_2:
    # Cut273 placement: moved
    add(support_reductor_box_wide_1.part.moved(Location((-80, -9, 0))).rotate(Axis((-80, -9, 0), (0, -1, 0)), CUT273_PLACEMENT_ANGLE))

    # Chamfer025
    chamfer025_edges = [support_reductor_box_wide_2.edges().sort_by_distance(p)[0] for p in [
        (248.963558, -9, -9.796804),
    ]]
    chamfer(chamfer025_edges, length=CHAMFER025_SIZE)

    # Fillet101
    fillet101_edges = [support_reductor_box_wide_2.edges().sort_by_distance(p)[0] for p in [
        (253.956706, -25, -9.535124),
        (253.791205, -25, -44.59183),
        (252.43047, 71, -18.627462),
        (253.791205, 71, -44.59183),
        (253.791205, 87, -44.59183),
        (252.43047, 87, -18.627462),
    ]]
    fillet(fillet101_edges, radius=FILLET101_R)

    # Fillet102
    fillet102_edges = [support_reductor_box_wide_2.edges().sort_by_distance(p)[0] for p in [
        (246.966299, -3.5, -9.901476),
        (238.811762, -4, -45.376869),
        (237.451027, -4, -19.412501),
    ]]
    fillet(fillet102_edges, radius=FILLET102_R)


solid = support_reductor_box_wide_2.part
